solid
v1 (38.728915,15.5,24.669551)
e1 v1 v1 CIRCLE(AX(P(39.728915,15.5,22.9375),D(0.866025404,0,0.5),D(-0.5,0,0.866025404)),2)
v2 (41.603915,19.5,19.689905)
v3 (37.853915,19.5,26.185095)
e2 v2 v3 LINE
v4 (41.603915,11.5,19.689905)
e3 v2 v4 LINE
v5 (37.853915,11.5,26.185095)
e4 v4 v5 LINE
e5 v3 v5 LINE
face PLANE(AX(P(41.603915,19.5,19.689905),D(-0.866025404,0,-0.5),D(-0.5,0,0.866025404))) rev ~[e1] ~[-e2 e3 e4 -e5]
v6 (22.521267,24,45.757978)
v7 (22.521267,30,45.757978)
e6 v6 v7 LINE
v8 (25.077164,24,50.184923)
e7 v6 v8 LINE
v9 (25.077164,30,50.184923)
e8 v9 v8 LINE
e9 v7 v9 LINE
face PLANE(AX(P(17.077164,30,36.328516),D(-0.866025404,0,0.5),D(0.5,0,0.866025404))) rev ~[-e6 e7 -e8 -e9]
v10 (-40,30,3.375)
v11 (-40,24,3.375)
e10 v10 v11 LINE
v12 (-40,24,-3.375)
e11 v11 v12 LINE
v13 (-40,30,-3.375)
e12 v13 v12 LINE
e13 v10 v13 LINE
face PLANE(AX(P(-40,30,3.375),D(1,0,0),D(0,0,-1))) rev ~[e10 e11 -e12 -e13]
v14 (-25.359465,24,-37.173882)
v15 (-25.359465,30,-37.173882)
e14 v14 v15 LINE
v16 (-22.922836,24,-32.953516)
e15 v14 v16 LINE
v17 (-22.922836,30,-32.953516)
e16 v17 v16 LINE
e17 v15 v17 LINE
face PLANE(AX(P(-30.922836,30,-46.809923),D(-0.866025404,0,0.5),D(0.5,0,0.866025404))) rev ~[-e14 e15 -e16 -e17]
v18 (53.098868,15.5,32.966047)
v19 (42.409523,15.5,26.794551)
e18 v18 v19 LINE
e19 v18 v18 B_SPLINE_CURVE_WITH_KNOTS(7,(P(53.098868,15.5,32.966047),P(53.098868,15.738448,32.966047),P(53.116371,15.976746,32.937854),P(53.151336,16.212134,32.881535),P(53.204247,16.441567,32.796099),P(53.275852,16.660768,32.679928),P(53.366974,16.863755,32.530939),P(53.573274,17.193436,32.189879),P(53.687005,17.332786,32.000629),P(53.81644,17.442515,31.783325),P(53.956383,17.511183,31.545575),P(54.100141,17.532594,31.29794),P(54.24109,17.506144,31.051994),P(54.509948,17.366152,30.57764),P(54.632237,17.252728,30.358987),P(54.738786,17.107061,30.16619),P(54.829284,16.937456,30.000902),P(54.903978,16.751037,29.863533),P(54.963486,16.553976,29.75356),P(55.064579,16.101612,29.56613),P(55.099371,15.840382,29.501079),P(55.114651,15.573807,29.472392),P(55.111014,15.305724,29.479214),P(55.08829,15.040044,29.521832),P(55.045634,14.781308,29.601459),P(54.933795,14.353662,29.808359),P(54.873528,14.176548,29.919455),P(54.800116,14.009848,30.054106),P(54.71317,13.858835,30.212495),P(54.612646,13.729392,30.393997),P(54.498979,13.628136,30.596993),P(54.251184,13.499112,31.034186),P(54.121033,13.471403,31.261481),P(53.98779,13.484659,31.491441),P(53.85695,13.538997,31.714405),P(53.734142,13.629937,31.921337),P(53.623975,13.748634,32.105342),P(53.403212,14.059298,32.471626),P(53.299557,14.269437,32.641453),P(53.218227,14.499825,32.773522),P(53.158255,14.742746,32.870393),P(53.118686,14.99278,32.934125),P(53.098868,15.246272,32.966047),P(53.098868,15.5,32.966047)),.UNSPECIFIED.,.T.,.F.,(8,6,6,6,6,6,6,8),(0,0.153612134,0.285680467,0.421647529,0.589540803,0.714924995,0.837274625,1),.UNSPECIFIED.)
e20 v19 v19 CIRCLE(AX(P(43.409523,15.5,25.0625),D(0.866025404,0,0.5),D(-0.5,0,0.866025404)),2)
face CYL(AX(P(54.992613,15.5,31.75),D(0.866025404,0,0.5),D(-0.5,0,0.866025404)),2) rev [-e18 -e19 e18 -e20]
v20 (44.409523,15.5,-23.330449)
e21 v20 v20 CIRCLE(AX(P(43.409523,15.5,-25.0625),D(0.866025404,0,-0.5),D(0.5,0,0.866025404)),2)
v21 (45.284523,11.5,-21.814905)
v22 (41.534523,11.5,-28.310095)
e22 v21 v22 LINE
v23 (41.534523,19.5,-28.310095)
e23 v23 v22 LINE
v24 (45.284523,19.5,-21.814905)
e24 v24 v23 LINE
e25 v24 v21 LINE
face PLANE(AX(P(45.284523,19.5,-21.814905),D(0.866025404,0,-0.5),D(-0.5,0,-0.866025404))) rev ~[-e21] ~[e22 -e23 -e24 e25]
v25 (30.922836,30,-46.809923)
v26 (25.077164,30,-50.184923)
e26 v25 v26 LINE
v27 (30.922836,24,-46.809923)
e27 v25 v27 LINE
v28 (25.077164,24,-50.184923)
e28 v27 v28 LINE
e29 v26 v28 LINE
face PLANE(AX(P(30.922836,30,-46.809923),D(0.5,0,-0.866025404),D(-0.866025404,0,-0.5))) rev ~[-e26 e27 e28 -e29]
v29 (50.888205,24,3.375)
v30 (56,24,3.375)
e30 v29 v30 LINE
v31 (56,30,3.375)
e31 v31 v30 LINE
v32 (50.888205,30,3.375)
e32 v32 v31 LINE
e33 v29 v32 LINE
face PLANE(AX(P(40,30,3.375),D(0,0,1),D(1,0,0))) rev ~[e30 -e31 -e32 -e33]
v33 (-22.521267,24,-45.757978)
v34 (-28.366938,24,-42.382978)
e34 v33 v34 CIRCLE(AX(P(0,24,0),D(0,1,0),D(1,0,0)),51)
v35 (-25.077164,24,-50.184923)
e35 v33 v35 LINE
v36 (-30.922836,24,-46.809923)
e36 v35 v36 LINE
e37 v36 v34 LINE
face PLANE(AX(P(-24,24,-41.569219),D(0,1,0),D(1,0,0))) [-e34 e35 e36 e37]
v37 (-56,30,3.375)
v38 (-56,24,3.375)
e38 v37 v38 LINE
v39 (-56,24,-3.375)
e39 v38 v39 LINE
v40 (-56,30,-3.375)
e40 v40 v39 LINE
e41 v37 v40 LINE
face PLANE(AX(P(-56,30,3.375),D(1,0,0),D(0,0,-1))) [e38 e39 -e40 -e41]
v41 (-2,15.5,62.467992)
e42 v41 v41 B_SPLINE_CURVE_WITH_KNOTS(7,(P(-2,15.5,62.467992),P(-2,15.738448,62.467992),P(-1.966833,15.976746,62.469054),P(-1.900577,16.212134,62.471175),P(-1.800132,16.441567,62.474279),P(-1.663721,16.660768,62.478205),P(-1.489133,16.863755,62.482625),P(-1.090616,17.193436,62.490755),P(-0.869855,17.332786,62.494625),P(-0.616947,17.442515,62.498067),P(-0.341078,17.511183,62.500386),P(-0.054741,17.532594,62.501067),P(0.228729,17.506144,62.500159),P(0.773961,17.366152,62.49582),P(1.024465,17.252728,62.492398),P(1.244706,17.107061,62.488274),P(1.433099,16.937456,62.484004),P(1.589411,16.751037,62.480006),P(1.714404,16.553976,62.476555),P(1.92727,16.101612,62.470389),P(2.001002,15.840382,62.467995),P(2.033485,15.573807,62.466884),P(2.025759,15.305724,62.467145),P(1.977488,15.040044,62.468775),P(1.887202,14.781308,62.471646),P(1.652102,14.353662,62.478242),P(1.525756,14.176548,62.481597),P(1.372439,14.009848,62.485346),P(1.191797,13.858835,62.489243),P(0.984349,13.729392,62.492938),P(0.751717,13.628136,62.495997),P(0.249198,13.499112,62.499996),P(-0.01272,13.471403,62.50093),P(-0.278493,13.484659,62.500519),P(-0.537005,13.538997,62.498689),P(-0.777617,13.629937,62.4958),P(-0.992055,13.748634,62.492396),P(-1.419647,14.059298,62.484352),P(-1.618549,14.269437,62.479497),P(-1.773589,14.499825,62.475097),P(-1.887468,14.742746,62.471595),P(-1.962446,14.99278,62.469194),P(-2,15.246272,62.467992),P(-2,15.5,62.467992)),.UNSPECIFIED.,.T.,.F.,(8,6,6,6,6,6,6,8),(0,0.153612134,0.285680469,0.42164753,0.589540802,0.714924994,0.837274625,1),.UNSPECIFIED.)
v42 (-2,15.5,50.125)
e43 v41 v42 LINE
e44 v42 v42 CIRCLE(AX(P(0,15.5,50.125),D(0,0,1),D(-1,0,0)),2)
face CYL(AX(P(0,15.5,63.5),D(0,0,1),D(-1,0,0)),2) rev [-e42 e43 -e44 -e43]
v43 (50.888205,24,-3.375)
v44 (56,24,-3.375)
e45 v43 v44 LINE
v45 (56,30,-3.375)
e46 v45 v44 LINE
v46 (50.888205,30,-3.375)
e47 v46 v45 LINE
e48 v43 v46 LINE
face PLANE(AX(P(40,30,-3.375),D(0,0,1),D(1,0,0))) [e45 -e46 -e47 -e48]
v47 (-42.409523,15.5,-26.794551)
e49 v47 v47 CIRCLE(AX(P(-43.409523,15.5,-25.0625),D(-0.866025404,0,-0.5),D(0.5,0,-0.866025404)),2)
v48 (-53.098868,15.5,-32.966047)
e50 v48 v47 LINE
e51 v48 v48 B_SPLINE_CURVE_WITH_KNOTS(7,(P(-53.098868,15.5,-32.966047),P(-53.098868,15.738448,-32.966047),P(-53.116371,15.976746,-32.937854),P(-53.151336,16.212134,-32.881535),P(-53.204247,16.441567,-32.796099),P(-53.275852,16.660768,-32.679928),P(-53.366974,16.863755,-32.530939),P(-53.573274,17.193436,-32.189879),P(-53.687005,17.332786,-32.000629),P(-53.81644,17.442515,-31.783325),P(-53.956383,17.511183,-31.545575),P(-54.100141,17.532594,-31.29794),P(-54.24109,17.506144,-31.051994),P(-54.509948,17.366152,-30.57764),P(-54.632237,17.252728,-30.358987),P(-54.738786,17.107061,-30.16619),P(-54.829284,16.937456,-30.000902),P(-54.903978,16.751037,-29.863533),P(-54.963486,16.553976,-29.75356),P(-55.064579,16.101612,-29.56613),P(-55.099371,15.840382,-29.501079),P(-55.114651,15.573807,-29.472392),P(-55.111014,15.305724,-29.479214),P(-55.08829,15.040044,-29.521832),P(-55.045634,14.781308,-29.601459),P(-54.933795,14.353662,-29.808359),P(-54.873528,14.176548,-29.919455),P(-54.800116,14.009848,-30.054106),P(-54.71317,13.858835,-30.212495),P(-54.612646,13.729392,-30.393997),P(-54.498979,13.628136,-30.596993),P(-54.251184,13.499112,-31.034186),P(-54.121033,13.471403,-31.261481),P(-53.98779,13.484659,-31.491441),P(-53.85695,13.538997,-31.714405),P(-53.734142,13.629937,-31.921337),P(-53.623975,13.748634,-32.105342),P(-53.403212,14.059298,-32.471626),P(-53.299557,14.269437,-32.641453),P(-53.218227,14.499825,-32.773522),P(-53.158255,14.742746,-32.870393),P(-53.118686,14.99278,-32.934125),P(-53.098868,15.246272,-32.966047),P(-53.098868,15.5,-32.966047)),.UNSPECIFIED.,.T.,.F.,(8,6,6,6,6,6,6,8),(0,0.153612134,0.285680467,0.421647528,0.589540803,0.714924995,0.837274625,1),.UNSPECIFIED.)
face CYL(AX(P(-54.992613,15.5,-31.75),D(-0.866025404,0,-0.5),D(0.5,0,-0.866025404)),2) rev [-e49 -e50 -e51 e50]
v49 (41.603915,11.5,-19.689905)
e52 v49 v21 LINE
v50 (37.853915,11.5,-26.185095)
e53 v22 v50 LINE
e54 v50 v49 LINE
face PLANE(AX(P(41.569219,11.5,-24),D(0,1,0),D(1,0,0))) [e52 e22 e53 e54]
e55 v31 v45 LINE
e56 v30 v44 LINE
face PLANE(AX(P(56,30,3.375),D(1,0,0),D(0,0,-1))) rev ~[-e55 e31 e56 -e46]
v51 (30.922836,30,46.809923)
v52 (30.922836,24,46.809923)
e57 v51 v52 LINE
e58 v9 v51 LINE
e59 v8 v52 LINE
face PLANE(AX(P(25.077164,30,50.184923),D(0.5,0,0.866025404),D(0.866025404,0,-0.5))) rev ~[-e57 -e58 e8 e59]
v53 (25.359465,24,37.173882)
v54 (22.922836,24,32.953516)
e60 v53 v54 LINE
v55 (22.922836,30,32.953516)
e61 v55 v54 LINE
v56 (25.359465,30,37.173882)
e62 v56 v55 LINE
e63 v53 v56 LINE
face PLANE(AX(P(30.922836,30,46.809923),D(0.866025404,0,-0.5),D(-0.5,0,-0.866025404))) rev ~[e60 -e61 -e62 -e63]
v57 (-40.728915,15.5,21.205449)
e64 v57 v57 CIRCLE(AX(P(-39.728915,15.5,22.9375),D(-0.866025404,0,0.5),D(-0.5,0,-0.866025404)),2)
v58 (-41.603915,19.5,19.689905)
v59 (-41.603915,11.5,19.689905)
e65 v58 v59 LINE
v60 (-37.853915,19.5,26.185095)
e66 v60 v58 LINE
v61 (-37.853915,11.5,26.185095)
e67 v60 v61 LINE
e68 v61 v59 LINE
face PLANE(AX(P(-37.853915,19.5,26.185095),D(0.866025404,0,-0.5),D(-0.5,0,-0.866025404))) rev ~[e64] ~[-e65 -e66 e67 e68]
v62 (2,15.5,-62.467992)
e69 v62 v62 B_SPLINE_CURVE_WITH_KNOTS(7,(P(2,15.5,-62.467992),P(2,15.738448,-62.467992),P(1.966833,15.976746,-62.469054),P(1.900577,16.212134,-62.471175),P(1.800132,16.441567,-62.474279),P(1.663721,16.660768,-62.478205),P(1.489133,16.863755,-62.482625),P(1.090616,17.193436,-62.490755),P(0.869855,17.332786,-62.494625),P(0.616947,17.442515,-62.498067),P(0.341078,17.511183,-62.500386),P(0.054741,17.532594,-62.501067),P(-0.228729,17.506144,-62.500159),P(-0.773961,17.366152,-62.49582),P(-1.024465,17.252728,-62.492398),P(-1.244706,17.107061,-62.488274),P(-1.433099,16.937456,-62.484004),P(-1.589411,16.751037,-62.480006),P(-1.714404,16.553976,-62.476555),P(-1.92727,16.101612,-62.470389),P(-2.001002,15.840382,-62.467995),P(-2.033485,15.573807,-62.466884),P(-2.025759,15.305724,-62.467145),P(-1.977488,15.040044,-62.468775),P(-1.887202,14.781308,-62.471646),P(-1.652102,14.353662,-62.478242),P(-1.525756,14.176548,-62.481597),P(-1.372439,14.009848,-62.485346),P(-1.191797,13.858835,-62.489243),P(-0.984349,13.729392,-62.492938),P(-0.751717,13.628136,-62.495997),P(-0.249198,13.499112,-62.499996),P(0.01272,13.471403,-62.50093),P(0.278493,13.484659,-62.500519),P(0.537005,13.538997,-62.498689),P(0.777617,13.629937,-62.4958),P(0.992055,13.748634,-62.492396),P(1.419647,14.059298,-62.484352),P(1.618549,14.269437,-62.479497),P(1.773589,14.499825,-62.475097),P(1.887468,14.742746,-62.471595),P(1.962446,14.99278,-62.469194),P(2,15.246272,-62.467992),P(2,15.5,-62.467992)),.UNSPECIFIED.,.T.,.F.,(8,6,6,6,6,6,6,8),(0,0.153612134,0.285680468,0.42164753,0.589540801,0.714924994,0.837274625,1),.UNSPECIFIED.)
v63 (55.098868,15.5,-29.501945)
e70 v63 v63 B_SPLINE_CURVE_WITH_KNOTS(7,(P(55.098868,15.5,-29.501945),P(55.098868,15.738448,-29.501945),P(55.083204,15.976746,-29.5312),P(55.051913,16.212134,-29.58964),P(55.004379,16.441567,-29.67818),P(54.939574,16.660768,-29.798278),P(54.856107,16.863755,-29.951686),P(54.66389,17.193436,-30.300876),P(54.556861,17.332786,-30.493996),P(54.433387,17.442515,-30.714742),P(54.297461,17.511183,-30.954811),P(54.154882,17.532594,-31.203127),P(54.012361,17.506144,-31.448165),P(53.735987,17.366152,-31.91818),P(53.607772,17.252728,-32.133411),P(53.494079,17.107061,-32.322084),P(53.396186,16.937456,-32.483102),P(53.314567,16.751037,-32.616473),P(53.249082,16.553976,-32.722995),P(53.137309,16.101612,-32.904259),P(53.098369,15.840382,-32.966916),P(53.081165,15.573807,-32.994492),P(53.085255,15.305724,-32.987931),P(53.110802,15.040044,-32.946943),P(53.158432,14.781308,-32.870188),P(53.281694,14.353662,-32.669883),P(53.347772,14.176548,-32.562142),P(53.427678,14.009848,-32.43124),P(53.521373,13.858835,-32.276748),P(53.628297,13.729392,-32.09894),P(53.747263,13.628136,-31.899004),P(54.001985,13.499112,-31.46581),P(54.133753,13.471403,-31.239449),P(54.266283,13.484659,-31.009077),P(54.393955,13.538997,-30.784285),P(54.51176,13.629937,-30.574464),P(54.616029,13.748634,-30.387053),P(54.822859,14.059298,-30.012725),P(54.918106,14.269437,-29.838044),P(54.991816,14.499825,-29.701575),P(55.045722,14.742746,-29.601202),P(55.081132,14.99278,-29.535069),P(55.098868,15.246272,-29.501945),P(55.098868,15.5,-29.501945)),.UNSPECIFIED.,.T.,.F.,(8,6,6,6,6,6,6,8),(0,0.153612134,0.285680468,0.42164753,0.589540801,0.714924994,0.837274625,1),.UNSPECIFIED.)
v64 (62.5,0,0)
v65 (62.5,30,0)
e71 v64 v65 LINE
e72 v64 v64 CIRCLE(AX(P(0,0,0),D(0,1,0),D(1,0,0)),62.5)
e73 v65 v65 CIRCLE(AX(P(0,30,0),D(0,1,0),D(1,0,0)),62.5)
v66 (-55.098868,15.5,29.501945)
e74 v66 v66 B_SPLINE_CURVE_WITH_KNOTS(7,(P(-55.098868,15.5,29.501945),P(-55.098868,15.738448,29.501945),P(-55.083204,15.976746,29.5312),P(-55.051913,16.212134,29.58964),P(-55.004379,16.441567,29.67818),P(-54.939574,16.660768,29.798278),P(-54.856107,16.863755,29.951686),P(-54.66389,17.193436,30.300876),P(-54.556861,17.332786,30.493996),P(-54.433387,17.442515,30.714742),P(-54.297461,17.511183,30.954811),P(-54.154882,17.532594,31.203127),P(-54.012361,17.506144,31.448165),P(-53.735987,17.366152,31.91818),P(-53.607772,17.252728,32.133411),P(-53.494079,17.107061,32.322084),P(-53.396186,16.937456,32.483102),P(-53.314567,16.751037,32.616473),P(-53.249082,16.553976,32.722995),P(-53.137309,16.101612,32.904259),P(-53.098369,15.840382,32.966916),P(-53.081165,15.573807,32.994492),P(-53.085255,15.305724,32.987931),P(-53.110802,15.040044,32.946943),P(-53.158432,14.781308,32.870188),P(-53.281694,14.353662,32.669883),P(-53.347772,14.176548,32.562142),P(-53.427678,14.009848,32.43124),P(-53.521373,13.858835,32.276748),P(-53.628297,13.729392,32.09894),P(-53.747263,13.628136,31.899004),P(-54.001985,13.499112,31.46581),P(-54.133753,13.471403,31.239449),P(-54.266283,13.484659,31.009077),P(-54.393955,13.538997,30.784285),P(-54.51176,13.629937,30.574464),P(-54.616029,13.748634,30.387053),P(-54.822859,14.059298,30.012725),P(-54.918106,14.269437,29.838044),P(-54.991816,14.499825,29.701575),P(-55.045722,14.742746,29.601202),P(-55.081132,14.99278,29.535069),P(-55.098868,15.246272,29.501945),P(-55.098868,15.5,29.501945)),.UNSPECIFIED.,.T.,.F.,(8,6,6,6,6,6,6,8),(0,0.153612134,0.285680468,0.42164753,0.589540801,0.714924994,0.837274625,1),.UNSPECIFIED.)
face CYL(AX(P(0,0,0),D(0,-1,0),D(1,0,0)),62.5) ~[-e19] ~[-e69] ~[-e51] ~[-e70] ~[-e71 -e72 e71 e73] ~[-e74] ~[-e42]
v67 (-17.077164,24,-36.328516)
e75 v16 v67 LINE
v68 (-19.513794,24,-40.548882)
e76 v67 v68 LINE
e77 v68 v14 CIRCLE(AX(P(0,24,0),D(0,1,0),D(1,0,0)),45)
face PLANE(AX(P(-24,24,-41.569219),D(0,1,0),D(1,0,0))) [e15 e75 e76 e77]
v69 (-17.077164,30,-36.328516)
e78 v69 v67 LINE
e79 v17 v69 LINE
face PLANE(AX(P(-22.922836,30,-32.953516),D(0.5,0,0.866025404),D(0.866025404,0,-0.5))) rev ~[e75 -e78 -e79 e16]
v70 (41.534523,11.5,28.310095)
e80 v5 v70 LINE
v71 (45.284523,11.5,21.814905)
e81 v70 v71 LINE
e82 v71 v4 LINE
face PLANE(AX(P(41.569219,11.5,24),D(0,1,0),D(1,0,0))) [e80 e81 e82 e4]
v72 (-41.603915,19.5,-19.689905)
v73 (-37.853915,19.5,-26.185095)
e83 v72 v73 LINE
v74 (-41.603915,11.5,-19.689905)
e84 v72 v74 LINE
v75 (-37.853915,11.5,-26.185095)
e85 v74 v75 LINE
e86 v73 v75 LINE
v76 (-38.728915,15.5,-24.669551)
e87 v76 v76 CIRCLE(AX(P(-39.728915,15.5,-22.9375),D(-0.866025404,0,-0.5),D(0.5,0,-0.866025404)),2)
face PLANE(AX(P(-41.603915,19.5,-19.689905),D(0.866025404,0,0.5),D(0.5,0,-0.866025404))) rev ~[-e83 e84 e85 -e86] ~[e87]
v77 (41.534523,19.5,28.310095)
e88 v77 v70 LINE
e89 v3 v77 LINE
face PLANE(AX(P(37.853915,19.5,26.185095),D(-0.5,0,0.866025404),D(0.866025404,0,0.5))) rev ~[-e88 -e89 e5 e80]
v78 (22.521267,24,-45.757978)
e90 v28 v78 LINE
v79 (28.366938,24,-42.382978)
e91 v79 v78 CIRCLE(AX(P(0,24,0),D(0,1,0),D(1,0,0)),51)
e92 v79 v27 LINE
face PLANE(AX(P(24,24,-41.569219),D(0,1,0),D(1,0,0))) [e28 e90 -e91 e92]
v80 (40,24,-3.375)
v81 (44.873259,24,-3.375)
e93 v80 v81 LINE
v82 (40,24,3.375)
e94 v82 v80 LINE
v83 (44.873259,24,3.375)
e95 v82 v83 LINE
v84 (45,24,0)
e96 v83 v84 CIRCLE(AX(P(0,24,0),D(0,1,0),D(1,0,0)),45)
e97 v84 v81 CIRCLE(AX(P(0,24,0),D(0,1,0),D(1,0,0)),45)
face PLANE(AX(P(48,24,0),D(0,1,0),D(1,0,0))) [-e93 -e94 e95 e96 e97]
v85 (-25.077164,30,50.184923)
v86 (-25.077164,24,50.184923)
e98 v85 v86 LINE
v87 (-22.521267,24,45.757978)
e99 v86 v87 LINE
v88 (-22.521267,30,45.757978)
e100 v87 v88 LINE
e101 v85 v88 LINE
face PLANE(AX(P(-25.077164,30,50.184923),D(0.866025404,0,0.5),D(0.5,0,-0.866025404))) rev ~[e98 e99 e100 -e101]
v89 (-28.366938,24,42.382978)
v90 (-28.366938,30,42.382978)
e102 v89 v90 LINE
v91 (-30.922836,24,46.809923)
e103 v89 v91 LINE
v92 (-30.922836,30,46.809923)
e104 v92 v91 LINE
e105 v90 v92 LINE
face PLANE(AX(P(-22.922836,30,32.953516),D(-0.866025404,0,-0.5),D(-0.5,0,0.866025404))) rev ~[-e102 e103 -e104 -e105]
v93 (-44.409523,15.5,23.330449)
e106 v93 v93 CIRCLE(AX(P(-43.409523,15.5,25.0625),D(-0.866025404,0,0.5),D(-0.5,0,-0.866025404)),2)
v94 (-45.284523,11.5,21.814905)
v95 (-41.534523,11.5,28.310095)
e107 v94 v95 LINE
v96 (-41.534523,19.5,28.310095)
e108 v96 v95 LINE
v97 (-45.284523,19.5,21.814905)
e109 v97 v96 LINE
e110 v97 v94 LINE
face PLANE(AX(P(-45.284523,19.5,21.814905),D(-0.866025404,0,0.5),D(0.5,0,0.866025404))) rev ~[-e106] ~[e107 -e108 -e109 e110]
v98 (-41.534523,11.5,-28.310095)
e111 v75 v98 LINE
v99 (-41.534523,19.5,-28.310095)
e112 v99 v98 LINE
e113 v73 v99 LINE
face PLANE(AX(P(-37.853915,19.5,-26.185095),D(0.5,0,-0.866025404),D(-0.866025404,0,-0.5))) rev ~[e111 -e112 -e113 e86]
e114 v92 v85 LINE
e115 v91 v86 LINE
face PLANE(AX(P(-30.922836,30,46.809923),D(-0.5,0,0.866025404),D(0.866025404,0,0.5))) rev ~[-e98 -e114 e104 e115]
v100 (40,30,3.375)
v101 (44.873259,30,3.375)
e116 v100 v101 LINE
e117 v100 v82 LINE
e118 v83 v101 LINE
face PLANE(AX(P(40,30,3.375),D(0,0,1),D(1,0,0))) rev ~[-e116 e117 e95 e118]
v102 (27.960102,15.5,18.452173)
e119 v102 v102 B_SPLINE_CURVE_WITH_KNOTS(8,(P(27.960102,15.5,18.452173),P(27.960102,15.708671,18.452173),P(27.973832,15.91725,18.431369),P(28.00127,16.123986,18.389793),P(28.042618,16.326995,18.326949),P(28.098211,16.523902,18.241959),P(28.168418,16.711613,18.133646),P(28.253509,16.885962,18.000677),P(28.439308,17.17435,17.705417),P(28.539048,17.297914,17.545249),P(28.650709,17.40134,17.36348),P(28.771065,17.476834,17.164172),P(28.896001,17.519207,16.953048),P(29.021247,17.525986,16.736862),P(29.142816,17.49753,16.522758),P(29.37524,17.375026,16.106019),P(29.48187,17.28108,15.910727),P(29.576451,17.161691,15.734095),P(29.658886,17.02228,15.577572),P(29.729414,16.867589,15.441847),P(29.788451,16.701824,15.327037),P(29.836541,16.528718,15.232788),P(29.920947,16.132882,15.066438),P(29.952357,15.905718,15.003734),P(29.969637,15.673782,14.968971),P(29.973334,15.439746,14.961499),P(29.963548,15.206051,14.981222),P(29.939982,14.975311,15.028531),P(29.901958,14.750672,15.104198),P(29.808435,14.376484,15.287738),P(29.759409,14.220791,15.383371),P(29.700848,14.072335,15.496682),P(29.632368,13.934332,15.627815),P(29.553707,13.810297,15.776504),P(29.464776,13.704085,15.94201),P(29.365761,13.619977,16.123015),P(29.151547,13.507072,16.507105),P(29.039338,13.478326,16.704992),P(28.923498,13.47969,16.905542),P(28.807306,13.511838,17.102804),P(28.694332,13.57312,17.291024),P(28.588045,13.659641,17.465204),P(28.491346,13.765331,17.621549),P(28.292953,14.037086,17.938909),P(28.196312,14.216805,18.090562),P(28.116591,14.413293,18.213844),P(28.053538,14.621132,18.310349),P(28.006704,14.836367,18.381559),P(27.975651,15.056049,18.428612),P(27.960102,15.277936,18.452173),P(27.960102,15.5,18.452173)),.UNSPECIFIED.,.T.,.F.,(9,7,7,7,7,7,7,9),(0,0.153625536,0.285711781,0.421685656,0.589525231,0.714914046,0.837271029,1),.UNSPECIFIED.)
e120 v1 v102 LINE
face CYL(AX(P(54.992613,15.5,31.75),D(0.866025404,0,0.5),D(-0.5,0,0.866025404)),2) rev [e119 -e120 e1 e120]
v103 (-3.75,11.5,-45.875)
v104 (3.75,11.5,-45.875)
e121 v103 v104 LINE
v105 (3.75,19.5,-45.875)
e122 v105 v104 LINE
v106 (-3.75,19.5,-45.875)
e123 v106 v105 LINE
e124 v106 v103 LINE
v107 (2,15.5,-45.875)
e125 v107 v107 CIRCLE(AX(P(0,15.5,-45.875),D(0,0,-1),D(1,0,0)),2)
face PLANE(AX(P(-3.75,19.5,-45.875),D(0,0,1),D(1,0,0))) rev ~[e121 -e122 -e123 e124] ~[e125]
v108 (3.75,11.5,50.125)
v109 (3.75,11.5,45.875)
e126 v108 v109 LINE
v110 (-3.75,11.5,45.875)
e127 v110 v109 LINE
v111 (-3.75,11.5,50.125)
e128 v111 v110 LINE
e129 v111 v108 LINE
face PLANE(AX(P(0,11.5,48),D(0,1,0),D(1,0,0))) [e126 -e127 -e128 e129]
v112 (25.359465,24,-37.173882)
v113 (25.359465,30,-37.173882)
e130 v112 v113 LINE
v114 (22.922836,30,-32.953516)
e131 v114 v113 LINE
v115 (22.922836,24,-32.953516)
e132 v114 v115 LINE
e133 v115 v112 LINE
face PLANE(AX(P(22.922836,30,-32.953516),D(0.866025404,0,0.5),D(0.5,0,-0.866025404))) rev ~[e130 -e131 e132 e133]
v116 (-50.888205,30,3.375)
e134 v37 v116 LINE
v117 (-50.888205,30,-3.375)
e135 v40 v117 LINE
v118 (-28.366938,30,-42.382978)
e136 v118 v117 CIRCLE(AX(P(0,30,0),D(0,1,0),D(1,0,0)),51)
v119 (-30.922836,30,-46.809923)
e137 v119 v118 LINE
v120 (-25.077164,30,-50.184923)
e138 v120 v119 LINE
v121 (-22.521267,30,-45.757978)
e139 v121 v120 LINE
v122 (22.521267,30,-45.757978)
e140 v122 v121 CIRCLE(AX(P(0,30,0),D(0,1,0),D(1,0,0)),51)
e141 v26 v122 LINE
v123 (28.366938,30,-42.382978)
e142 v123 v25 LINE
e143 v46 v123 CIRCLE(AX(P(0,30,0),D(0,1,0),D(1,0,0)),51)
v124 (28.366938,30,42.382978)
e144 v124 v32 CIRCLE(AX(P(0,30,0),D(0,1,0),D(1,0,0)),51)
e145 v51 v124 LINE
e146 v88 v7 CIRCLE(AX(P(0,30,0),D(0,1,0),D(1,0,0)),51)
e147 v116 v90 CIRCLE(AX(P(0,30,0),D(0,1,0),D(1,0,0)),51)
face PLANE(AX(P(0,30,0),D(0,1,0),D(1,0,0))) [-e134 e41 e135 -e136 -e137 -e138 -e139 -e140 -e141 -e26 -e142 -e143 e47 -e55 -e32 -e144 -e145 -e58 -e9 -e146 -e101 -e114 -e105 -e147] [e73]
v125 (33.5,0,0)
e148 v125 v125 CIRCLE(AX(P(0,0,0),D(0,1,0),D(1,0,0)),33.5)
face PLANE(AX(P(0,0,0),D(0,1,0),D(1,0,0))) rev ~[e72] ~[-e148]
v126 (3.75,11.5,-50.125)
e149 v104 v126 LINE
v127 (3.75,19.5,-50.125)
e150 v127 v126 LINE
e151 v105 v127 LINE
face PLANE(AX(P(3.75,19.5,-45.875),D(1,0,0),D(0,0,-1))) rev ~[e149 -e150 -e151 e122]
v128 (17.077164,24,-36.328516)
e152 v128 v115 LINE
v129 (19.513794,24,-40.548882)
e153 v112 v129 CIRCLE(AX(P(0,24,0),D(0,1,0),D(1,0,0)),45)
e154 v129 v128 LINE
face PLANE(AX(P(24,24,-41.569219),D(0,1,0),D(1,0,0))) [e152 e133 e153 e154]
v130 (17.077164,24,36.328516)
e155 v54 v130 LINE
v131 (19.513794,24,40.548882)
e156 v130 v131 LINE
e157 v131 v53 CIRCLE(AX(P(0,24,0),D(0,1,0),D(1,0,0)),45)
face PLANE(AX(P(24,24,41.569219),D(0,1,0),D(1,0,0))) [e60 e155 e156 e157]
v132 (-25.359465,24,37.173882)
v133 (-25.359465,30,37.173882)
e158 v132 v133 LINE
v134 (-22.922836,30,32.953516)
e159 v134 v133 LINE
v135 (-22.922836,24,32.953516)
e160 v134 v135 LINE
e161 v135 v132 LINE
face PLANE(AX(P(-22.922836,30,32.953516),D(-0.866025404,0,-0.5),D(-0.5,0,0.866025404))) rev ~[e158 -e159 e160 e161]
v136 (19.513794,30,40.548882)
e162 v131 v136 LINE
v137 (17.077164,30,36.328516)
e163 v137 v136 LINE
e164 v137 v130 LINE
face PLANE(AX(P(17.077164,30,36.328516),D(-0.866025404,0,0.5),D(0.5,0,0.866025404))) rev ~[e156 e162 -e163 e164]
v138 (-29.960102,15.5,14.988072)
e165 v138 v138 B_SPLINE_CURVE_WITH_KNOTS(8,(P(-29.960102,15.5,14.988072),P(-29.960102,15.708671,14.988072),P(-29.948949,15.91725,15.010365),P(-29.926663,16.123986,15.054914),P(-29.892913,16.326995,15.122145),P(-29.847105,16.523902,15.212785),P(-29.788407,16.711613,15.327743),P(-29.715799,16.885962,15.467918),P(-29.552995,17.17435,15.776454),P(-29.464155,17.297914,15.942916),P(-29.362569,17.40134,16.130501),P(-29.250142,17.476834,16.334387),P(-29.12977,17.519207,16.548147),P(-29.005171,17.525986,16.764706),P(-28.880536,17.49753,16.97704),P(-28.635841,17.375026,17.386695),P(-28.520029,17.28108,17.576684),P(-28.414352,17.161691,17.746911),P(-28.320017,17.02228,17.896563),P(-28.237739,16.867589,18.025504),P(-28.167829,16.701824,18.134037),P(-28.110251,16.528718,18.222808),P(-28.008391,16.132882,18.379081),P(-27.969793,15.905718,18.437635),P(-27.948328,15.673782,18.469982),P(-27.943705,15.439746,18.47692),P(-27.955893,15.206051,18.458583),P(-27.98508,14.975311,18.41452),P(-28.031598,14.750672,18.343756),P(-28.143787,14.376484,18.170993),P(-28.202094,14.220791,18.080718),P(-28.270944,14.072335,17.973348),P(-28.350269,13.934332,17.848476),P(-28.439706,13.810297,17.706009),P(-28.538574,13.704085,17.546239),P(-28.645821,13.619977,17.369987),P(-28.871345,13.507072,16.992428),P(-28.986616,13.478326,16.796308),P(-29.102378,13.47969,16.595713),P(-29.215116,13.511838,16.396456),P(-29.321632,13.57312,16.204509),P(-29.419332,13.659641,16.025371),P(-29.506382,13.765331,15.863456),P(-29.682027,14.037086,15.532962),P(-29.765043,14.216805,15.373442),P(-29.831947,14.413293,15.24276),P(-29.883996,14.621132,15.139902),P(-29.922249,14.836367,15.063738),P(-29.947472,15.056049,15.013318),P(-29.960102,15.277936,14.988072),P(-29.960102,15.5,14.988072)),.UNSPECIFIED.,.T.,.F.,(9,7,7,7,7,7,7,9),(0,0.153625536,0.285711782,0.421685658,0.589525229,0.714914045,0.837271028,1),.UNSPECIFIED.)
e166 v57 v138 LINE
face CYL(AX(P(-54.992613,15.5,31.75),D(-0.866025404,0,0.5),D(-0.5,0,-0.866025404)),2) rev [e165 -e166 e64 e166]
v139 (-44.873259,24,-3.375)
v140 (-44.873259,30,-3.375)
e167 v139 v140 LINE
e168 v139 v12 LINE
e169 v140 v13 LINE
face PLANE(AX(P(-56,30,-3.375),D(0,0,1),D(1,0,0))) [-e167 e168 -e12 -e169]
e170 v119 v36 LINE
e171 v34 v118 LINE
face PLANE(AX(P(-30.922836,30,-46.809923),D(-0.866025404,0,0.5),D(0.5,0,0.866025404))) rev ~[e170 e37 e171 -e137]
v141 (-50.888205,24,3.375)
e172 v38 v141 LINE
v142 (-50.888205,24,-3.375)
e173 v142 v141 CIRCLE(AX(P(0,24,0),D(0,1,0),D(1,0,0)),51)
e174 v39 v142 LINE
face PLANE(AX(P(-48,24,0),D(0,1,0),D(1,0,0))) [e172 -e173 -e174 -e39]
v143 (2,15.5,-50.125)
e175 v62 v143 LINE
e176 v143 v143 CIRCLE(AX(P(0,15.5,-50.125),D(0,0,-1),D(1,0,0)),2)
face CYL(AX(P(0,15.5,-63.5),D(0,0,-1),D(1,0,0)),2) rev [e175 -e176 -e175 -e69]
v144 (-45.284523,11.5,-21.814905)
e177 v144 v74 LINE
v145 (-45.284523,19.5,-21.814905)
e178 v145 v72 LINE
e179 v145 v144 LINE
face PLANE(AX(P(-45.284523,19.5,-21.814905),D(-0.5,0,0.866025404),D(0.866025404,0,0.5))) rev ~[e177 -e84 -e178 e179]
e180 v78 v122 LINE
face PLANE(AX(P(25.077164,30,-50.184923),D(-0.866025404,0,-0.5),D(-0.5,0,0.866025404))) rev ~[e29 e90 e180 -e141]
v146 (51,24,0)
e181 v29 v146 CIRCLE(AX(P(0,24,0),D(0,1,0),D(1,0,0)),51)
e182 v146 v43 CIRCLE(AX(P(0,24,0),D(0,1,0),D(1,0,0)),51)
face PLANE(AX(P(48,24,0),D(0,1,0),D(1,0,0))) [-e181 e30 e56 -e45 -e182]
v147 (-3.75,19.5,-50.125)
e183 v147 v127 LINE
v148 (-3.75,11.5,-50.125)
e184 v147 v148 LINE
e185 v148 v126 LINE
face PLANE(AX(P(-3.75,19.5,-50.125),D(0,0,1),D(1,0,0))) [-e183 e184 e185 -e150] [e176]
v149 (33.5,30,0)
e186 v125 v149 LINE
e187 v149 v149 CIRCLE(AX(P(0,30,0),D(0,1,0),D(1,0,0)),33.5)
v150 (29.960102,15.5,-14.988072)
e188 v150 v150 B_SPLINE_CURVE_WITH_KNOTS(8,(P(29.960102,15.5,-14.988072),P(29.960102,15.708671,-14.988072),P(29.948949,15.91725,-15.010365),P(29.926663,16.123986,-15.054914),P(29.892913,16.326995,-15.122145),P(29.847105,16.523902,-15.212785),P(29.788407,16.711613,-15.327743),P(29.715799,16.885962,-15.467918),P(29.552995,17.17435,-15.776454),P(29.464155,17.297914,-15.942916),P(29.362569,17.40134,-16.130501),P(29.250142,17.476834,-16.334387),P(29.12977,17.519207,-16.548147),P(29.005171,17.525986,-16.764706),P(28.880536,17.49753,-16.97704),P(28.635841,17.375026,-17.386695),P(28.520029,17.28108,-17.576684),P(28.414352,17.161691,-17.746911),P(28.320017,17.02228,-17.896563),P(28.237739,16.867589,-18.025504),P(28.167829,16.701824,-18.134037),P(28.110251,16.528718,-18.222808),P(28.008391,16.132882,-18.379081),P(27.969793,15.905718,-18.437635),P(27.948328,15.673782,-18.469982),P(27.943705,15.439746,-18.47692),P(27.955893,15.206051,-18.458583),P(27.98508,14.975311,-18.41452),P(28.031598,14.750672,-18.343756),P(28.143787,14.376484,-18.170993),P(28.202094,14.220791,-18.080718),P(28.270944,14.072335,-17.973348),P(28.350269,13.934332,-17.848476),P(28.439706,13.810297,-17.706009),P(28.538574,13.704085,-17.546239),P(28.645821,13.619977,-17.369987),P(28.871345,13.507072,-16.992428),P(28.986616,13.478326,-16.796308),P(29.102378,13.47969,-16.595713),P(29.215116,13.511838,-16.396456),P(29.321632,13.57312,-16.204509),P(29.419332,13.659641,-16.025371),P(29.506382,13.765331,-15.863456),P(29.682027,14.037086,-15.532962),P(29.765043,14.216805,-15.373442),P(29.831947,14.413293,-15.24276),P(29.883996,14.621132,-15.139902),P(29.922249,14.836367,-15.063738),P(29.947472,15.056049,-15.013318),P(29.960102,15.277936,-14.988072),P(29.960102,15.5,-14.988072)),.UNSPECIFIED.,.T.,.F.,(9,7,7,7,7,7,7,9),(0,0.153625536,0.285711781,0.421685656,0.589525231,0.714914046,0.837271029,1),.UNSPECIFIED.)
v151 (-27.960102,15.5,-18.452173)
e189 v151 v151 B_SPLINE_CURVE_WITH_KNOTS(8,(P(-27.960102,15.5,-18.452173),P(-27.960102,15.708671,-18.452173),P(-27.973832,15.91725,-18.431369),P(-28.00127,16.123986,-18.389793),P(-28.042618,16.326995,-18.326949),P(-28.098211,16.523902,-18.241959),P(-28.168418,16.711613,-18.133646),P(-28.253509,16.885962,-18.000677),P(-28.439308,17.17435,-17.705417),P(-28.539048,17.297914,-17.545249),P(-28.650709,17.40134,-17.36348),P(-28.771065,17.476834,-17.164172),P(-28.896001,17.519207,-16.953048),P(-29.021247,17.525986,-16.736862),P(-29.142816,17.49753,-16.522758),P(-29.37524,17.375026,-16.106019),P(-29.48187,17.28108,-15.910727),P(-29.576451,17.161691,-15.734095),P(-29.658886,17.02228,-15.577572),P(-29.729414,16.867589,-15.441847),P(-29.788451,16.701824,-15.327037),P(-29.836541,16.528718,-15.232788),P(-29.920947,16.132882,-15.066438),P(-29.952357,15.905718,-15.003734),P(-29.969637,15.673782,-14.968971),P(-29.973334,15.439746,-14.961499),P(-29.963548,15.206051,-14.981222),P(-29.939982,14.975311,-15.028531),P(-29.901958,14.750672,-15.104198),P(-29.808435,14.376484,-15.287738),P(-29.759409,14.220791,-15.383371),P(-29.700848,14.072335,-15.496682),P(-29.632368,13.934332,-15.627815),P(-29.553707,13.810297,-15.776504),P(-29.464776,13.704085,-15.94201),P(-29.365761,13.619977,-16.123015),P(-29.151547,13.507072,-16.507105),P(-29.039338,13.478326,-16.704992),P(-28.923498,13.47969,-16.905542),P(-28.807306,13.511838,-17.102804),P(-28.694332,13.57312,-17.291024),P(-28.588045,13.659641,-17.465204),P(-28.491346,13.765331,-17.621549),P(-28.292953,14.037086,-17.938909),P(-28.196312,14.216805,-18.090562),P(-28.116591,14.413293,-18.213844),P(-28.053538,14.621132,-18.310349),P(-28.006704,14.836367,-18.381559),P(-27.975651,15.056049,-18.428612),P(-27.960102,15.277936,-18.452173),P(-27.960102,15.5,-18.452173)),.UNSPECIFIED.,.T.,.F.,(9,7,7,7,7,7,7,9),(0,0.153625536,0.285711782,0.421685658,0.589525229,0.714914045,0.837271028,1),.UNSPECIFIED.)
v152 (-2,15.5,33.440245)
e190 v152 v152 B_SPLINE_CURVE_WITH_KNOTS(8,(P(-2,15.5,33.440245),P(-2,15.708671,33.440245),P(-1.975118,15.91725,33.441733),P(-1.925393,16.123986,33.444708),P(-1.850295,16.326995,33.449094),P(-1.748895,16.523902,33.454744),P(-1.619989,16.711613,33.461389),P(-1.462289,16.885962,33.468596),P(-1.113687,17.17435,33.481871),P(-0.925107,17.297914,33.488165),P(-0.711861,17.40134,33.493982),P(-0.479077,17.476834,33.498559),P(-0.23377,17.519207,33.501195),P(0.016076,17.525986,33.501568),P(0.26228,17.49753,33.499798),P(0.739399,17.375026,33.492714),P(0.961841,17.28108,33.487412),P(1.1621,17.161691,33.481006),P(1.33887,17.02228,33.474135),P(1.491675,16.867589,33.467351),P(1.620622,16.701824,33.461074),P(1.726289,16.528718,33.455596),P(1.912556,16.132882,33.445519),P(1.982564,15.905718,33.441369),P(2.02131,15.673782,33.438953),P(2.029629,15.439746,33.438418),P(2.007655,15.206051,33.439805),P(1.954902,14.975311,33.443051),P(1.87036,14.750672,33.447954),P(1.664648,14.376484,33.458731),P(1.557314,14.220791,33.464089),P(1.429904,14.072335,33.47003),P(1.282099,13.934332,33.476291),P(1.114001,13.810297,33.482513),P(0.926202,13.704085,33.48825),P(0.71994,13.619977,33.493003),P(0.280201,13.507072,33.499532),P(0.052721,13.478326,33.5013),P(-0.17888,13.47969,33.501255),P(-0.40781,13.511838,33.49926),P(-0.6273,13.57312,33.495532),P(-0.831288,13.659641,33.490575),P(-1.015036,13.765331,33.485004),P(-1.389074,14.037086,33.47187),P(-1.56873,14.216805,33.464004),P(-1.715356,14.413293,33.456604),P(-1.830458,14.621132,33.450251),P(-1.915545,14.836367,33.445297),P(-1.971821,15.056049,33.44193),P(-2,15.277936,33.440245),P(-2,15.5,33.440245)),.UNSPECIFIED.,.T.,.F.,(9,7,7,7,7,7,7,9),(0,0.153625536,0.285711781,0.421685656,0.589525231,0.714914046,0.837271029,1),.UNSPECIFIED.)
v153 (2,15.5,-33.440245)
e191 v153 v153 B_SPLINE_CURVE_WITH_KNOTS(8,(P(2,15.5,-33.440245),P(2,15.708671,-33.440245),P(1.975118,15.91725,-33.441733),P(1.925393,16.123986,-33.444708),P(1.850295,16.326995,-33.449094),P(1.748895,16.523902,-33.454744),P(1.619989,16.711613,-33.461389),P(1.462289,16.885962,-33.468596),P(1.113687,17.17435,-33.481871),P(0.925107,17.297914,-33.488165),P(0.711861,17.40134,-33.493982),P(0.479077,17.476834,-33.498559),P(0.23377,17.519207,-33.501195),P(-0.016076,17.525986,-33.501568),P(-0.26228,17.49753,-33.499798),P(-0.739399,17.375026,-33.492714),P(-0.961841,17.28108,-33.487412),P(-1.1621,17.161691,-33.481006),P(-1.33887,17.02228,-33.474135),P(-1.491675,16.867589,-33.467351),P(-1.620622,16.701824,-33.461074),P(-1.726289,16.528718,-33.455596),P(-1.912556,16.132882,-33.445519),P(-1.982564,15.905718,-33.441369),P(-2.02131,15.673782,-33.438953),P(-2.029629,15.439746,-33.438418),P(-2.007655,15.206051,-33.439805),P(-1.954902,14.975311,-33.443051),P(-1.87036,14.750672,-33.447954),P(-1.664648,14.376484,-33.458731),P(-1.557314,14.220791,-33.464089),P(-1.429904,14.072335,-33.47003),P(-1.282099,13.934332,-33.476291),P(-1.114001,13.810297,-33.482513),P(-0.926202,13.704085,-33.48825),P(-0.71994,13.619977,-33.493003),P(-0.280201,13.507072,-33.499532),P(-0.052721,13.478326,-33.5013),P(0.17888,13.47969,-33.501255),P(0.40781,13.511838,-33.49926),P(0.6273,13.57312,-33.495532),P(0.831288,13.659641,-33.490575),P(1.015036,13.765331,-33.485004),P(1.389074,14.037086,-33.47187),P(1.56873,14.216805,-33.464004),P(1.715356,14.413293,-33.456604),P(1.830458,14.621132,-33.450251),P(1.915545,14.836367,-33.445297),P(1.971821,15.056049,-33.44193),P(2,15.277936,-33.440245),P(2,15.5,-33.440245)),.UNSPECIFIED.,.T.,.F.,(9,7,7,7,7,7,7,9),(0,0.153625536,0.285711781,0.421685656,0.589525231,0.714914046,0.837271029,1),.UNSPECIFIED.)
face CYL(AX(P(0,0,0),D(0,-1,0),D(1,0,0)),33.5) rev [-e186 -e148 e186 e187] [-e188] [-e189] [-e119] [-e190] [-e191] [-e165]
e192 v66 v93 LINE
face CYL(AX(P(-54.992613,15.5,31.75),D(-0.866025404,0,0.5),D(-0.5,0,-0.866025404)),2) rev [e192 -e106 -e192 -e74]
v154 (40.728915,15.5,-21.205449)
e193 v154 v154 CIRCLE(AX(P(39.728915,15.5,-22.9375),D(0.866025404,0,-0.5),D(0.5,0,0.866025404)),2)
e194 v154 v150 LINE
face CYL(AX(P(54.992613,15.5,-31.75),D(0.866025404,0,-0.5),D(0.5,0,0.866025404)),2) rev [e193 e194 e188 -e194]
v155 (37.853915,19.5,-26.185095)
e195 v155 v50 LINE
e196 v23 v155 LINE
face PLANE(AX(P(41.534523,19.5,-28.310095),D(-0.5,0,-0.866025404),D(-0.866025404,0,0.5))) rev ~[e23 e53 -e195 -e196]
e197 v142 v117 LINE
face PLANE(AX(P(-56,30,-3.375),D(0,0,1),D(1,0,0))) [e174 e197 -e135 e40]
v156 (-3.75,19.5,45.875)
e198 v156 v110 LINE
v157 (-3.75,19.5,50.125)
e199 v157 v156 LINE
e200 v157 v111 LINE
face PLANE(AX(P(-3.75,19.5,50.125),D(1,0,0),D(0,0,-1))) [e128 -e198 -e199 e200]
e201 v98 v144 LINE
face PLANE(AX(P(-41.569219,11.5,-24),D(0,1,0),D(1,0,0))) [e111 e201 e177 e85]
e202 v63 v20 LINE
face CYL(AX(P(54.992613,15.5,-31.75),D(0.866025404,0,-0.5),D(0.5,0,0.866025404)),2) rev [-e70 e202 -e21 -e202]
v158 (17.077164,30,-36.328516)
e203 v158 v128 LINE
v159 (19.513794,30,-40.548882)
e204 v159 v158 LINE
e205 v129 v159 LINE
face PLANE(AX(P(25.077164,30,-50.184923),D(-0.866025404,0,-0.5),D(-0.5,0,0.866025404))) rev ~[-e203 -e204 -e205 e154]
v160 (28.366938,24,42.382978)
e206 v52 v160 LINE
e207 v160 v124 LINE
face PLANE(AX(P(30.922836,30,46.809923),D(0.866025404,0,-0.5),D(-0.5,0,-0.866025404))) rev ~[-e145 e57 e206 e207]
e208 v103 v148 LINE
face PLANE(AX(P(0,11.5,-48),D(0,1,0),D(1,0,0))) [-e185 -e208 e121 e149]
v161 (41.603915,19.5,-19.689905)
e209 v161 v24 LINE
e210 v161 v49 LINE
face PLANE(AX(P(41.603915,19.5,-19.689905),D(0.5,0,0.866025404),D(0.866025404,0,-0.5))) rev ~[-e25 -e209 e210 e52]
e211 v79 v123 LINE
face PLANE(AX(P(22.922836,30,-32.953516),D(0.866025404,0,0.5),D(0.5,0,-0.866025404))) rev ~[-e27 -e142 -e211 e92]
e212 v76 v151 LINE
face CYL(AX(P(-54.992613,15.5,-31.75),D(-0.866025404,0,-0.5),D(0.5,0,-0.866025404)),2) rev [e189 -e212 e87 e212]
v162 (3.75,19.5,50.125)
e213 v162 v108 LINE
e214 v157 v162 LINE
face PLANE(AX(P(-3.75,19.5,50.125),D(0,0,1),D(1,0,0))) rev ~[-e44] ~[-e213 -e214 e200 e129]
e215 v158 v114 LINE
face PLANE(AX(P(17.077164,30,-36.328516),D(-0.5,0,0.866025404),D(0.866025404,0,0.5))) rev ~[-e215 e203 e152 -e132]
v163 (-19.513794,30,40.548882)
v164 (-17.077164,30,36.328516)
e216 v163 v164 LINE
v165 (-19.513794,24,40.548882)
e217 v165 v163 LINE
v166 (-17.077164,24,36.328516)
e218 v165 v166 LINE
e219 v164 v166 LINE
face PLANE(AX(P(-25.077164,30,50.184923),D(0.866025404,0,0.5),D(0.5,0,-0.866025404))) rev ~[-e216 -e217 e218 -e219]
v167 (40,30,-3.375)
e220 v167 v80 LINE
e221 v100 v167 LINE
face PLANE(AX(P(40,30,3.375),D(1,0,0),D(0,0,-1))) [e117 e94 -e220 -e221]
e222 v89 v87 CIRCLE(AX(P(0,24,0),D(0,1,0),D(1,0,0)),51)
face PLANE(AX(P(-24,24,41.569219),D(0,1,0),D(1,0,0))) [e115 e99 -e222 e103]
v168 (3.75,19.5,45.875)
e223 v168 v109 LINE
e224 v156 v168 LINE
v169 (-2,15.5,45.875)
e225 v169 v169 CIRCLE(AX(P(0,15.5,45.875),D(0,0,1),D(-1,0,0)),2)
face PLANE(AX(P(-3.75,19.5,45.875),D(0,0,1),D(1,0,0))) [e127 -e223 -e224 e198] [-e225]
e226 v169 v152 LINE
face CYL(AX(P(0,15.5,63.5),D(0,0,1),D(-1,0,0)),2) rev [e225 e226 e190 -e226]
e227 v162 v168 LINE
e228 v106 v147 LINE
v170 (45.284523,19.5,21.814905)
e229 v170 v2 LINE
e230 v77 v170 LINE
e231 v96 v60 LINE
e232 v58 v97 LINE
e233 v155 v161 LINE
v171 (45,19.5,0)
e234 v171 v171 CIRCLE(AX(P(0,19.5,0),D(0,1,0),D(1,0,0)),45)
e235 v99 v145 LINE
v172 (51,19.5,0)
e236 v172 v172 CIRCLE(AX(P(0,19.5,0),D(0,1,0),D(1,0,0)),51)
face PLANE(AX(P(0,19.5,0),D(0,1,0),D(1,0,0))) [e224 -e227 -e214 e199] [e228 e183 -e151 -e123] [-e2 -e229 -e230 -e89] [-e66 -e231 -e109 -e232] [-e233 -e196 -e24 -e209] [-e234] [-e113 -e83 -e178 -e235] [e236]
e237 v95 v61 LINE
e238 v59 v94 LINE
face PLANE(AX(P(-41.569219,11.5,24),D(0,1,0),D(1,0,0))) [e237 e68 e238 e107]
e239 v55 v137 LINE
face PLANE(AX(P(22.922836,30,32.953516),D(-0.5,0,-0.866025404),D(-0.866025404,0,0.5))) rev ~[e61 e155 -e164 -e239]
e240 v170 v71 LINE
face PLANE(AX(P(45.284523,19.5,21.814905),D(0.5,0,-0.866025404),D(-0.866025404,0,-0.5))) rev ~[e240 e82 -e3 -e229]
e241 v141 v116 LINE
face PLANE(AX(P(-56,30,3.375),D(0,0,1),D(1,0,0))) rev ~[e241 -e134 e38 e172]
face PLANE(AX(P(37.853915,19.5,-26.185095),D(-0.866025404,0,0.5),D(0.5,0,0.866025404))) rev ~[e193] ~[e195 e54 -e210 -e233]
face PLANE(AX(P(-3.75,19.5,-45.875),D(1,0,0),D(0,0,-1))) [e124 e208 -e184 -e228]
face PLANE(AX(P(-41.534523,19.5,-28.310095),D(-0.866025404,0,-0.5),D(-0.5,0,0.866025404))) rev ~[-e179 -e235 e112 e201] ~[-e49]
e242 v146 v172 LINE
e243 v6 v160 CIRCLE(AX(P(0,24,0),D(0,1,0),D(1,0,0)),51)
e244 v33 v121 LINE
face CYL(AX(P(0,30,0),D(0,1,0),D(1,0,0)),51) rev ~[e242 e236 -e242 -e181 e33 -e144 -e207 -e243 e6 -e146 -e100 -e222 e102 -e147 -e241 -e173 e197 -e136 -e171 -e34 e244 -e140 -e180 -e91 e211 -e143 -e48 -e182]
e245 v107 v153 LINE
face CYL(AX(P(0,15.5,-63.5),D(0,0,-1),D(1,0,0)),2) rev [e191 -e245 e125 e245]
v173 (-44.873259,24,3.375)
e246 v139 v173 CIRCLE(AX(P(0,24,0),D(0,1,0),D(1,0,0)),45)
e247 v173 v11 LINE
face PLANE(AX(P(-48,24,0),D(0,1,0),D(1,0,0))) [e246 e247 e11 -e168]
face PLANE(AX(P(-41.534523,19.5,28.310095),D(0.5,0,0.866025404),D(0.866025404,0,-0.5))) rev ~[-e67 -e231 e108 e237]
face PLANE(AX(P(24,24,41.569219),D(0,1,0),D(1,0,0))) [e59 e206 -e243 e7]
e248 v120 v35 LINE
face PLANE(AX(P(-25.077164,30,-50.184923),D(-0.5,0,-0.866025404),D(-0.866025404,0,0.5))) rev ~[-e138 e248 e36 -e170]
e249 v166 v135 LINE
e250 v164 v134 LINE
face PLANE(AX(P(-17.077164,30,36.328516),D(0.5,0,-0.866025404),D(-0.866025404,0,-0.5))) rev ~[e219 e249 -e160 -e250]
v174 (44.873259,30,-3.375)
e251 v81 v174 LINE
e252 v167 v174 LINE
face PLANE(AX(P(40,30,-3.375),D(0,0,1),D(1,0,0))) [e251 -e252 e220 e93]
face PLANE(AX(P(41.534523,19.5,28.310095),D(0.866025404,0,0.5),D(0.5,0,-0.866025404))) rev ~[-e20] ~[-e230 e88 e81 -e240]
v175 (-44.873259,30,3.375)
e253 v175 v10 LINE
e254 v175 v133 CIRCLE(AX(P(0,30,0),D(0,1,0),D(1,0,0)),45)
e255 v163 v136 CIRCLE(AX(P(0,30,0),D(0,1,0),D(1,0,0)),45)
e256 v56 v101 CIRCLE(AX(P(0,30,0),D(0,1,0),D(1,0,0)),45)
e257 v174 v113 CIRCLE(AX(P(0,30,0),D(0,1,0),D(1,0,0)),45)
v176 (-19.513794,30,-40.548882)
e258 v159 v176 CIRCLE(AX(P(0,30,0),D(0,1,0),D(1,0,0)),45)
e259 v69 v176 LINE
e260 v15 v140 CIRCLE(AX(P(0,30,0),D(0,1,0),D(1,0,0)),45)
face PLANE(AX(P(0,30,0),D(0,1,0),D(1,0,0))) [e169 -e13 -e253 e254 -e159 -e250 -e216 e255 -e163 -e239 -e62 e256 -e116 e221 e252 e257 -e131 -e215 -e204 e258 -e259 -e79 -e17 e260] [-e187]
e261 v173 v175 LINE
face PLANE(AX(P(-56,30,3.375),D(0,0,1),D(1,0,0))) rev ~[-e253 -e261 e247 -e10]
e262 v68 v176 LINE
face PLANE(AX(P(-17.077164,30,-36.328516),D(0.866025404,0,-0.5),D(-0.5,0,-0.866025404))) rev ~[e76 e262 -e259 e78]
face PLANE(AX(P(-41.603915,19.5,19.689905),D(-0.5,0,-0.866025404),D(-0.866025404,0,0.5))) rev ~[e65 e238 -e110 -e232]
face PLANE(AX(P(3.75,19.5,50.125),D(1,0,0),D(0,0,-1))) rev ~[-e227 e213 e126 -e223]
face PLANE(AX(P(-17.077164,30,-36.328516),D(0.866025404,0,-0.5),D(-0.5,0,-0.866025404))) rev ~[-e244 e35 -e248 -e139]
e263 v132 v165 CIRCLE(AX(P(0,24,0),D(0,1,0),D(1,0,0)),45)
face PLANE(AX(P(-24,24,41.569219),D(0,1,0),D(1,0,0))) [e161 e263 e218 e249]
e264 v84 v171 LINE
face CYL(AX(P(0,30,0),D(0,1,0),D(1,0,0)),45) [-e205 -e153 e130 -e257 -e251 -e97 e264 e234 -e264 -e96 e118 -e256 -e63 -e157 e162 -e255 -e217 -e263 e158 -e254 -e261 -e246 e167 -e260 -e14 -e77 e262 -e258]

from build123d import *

# Parameters (mm, degrees)
SKETCH1_R           = 62.5
SKETCH1_R_2         = 33.5
BOSS_EXTRUDE1_DEPTH = 30
SKETCH2_W           = 16
SKETCH2_H           = 6.75
CUT_EXTRUDE2_DEPTH  = 6
SKETCH3_R           = 51
SKETCH3_R_2         = 45
CUT_EXTRUDE3_DEPTH  = 10.5
SKETCH6_W           = 7.5
SKETCH6_H           = 4.25
CUT_EXTRUDE4_DEPTH  = 8
CUT_EXTRUDE5_START  = -13.375
SKETCH8_R           = 2
CUT_EXTRUDE5_DEPTH  = 60.125
CIRPATTERN1_COUNT   = 6


with BuildPart() as part:
    # Sketch1 → Boss-Extrude1 (new body)
    with BuildSketch(Plane(origin=(0, 0, 0), x_dir=(1, 0, 0), z_dir=(0, 1, 0))):
        Circle(SKETCH1_R)
        Circle(SKETCH1_R_2, mode=Mode.SUBTRACT)
    extrude(amount=BOSS_EXTRUDE1_DEPTH)

    # Sketch2 → Cut-Extrude2 (cut)
    with BuildSketch(Plane(origin=(0, 30, 0), x_dir=(1, 0, 0), z_dir=(0, 1, 0))):
        with Locations((48, 0)):
            Rectangle(SKETCH2_W, SKETCH2_H)
        Polygon((22.922835738, -32.953516151), (17.077164262, -36.328516151), (25.077164262, -50.184922612), (30.922835738, -46.809922612), align=None)
        Polygon((-17.077164262, -36.328516151), (-22.922835738, -32.953516151), (-30.922835738, -46.809922612), (-25.077164262, -50.184922612), align=None)
        with Locations((-48, 0)):
            Rectangle(SKETCH2_W, SKETCH2_H)
        Polygon((-22.922835738, 32.953516151), (-17.077164262, 36.328516151), (-25.077164262, 50.184922612), (-30.922835738, 46.809922612), align=None)
        Polygon((17.077164262, 36.328516151), (22.922835738, 32.953516151), (30.922835738, 46.809922612), (25.077164262, 50.184922612), align=None)
    extrude(amount=-CUT_EXTRUDE2_DEPTH, mode=Mode.SUBTRACT)

    # Sketch3 → Cut-Extrude3 (cut)
    with BuildSketch(Plane(origin=(0, 30, 0), x_dir=(1, 0, 0), z_dir=(0, 1, 0))):
        Circle(SKETCH3_R)
        Circle(SKETCH3_R_2, mode=Mode.SUBTRACT)
    extrude(amount=-CUT_EXTRUDE3_DEPTH, mode=Mode.SUBTRACT)

    # Sketch6 → Cut-Extrude4 (cut)
    with BuildSketch(Plane(origin=(0, 19.5, 0), x_dir=(1, 0, 0), z_dir=(0, 1, 0))):
        with Locations((0, 48)):
            Rectangle(SKETCH6_W, SKETCH6_H)
        Polygon((41.534523365, 28.310095264), (37.853915399, 26.185095264), (41.603915399, 19.689904736), (45.284523365, 21.814904736), align=None)
        Polygon((45.284523365, -21.814904736), (41.603915399, -19.689904736), (37.853915399, -26.185095264), (41.534523365, -28.310095264), align=None)
        with Locations((0, -48)):
            Rectangle(SKETCH6_W, SKETCH6_H)
        Polygon((-41.534523365, -28.310095264), (-37.853915399, -26.185095264), (-41.603915399, -19.689904736), (-45.284523365, -21.814904736), align=None)
        Polygon((-45.284523365, 21.814904736), (-41.603915399, 19.689904736), (-37.853915399, 26.185095264), (-41.534523365, 28.310095264), align=None)
    extrude(amount=-CUT_EXTRUDE4_DEPTH, mode=Mode.SUBTRACT)

    # Sketch8 → Cut-Extrude5 (cut)
    with BuildSketch(Plane.XY.offset(-50.125).offset(CUT_EXTRUDE5_START)):
        with Locations((0, 15.5)):
            Circle(SKETCH8_R)
    cut_extrude5 = extrude(amount=CUT_EXTRUDE5_DEPTH, mode=Mode.SUBTRACT)

    # CirPattern1: Cut-Extrude5 ×6 about axis
    cirpattern1_axis = Axis((0, 19.5, 0), (0, 1, 0))
    for i in range(1, CIRPATTERN1_COUNT):
        add(cut_extrude5.rotate(cirpattern1_axis, i * 360 / CIRPATTERN1_COUNT), mode=Mode.SUBTRACT)


solid = part.part
